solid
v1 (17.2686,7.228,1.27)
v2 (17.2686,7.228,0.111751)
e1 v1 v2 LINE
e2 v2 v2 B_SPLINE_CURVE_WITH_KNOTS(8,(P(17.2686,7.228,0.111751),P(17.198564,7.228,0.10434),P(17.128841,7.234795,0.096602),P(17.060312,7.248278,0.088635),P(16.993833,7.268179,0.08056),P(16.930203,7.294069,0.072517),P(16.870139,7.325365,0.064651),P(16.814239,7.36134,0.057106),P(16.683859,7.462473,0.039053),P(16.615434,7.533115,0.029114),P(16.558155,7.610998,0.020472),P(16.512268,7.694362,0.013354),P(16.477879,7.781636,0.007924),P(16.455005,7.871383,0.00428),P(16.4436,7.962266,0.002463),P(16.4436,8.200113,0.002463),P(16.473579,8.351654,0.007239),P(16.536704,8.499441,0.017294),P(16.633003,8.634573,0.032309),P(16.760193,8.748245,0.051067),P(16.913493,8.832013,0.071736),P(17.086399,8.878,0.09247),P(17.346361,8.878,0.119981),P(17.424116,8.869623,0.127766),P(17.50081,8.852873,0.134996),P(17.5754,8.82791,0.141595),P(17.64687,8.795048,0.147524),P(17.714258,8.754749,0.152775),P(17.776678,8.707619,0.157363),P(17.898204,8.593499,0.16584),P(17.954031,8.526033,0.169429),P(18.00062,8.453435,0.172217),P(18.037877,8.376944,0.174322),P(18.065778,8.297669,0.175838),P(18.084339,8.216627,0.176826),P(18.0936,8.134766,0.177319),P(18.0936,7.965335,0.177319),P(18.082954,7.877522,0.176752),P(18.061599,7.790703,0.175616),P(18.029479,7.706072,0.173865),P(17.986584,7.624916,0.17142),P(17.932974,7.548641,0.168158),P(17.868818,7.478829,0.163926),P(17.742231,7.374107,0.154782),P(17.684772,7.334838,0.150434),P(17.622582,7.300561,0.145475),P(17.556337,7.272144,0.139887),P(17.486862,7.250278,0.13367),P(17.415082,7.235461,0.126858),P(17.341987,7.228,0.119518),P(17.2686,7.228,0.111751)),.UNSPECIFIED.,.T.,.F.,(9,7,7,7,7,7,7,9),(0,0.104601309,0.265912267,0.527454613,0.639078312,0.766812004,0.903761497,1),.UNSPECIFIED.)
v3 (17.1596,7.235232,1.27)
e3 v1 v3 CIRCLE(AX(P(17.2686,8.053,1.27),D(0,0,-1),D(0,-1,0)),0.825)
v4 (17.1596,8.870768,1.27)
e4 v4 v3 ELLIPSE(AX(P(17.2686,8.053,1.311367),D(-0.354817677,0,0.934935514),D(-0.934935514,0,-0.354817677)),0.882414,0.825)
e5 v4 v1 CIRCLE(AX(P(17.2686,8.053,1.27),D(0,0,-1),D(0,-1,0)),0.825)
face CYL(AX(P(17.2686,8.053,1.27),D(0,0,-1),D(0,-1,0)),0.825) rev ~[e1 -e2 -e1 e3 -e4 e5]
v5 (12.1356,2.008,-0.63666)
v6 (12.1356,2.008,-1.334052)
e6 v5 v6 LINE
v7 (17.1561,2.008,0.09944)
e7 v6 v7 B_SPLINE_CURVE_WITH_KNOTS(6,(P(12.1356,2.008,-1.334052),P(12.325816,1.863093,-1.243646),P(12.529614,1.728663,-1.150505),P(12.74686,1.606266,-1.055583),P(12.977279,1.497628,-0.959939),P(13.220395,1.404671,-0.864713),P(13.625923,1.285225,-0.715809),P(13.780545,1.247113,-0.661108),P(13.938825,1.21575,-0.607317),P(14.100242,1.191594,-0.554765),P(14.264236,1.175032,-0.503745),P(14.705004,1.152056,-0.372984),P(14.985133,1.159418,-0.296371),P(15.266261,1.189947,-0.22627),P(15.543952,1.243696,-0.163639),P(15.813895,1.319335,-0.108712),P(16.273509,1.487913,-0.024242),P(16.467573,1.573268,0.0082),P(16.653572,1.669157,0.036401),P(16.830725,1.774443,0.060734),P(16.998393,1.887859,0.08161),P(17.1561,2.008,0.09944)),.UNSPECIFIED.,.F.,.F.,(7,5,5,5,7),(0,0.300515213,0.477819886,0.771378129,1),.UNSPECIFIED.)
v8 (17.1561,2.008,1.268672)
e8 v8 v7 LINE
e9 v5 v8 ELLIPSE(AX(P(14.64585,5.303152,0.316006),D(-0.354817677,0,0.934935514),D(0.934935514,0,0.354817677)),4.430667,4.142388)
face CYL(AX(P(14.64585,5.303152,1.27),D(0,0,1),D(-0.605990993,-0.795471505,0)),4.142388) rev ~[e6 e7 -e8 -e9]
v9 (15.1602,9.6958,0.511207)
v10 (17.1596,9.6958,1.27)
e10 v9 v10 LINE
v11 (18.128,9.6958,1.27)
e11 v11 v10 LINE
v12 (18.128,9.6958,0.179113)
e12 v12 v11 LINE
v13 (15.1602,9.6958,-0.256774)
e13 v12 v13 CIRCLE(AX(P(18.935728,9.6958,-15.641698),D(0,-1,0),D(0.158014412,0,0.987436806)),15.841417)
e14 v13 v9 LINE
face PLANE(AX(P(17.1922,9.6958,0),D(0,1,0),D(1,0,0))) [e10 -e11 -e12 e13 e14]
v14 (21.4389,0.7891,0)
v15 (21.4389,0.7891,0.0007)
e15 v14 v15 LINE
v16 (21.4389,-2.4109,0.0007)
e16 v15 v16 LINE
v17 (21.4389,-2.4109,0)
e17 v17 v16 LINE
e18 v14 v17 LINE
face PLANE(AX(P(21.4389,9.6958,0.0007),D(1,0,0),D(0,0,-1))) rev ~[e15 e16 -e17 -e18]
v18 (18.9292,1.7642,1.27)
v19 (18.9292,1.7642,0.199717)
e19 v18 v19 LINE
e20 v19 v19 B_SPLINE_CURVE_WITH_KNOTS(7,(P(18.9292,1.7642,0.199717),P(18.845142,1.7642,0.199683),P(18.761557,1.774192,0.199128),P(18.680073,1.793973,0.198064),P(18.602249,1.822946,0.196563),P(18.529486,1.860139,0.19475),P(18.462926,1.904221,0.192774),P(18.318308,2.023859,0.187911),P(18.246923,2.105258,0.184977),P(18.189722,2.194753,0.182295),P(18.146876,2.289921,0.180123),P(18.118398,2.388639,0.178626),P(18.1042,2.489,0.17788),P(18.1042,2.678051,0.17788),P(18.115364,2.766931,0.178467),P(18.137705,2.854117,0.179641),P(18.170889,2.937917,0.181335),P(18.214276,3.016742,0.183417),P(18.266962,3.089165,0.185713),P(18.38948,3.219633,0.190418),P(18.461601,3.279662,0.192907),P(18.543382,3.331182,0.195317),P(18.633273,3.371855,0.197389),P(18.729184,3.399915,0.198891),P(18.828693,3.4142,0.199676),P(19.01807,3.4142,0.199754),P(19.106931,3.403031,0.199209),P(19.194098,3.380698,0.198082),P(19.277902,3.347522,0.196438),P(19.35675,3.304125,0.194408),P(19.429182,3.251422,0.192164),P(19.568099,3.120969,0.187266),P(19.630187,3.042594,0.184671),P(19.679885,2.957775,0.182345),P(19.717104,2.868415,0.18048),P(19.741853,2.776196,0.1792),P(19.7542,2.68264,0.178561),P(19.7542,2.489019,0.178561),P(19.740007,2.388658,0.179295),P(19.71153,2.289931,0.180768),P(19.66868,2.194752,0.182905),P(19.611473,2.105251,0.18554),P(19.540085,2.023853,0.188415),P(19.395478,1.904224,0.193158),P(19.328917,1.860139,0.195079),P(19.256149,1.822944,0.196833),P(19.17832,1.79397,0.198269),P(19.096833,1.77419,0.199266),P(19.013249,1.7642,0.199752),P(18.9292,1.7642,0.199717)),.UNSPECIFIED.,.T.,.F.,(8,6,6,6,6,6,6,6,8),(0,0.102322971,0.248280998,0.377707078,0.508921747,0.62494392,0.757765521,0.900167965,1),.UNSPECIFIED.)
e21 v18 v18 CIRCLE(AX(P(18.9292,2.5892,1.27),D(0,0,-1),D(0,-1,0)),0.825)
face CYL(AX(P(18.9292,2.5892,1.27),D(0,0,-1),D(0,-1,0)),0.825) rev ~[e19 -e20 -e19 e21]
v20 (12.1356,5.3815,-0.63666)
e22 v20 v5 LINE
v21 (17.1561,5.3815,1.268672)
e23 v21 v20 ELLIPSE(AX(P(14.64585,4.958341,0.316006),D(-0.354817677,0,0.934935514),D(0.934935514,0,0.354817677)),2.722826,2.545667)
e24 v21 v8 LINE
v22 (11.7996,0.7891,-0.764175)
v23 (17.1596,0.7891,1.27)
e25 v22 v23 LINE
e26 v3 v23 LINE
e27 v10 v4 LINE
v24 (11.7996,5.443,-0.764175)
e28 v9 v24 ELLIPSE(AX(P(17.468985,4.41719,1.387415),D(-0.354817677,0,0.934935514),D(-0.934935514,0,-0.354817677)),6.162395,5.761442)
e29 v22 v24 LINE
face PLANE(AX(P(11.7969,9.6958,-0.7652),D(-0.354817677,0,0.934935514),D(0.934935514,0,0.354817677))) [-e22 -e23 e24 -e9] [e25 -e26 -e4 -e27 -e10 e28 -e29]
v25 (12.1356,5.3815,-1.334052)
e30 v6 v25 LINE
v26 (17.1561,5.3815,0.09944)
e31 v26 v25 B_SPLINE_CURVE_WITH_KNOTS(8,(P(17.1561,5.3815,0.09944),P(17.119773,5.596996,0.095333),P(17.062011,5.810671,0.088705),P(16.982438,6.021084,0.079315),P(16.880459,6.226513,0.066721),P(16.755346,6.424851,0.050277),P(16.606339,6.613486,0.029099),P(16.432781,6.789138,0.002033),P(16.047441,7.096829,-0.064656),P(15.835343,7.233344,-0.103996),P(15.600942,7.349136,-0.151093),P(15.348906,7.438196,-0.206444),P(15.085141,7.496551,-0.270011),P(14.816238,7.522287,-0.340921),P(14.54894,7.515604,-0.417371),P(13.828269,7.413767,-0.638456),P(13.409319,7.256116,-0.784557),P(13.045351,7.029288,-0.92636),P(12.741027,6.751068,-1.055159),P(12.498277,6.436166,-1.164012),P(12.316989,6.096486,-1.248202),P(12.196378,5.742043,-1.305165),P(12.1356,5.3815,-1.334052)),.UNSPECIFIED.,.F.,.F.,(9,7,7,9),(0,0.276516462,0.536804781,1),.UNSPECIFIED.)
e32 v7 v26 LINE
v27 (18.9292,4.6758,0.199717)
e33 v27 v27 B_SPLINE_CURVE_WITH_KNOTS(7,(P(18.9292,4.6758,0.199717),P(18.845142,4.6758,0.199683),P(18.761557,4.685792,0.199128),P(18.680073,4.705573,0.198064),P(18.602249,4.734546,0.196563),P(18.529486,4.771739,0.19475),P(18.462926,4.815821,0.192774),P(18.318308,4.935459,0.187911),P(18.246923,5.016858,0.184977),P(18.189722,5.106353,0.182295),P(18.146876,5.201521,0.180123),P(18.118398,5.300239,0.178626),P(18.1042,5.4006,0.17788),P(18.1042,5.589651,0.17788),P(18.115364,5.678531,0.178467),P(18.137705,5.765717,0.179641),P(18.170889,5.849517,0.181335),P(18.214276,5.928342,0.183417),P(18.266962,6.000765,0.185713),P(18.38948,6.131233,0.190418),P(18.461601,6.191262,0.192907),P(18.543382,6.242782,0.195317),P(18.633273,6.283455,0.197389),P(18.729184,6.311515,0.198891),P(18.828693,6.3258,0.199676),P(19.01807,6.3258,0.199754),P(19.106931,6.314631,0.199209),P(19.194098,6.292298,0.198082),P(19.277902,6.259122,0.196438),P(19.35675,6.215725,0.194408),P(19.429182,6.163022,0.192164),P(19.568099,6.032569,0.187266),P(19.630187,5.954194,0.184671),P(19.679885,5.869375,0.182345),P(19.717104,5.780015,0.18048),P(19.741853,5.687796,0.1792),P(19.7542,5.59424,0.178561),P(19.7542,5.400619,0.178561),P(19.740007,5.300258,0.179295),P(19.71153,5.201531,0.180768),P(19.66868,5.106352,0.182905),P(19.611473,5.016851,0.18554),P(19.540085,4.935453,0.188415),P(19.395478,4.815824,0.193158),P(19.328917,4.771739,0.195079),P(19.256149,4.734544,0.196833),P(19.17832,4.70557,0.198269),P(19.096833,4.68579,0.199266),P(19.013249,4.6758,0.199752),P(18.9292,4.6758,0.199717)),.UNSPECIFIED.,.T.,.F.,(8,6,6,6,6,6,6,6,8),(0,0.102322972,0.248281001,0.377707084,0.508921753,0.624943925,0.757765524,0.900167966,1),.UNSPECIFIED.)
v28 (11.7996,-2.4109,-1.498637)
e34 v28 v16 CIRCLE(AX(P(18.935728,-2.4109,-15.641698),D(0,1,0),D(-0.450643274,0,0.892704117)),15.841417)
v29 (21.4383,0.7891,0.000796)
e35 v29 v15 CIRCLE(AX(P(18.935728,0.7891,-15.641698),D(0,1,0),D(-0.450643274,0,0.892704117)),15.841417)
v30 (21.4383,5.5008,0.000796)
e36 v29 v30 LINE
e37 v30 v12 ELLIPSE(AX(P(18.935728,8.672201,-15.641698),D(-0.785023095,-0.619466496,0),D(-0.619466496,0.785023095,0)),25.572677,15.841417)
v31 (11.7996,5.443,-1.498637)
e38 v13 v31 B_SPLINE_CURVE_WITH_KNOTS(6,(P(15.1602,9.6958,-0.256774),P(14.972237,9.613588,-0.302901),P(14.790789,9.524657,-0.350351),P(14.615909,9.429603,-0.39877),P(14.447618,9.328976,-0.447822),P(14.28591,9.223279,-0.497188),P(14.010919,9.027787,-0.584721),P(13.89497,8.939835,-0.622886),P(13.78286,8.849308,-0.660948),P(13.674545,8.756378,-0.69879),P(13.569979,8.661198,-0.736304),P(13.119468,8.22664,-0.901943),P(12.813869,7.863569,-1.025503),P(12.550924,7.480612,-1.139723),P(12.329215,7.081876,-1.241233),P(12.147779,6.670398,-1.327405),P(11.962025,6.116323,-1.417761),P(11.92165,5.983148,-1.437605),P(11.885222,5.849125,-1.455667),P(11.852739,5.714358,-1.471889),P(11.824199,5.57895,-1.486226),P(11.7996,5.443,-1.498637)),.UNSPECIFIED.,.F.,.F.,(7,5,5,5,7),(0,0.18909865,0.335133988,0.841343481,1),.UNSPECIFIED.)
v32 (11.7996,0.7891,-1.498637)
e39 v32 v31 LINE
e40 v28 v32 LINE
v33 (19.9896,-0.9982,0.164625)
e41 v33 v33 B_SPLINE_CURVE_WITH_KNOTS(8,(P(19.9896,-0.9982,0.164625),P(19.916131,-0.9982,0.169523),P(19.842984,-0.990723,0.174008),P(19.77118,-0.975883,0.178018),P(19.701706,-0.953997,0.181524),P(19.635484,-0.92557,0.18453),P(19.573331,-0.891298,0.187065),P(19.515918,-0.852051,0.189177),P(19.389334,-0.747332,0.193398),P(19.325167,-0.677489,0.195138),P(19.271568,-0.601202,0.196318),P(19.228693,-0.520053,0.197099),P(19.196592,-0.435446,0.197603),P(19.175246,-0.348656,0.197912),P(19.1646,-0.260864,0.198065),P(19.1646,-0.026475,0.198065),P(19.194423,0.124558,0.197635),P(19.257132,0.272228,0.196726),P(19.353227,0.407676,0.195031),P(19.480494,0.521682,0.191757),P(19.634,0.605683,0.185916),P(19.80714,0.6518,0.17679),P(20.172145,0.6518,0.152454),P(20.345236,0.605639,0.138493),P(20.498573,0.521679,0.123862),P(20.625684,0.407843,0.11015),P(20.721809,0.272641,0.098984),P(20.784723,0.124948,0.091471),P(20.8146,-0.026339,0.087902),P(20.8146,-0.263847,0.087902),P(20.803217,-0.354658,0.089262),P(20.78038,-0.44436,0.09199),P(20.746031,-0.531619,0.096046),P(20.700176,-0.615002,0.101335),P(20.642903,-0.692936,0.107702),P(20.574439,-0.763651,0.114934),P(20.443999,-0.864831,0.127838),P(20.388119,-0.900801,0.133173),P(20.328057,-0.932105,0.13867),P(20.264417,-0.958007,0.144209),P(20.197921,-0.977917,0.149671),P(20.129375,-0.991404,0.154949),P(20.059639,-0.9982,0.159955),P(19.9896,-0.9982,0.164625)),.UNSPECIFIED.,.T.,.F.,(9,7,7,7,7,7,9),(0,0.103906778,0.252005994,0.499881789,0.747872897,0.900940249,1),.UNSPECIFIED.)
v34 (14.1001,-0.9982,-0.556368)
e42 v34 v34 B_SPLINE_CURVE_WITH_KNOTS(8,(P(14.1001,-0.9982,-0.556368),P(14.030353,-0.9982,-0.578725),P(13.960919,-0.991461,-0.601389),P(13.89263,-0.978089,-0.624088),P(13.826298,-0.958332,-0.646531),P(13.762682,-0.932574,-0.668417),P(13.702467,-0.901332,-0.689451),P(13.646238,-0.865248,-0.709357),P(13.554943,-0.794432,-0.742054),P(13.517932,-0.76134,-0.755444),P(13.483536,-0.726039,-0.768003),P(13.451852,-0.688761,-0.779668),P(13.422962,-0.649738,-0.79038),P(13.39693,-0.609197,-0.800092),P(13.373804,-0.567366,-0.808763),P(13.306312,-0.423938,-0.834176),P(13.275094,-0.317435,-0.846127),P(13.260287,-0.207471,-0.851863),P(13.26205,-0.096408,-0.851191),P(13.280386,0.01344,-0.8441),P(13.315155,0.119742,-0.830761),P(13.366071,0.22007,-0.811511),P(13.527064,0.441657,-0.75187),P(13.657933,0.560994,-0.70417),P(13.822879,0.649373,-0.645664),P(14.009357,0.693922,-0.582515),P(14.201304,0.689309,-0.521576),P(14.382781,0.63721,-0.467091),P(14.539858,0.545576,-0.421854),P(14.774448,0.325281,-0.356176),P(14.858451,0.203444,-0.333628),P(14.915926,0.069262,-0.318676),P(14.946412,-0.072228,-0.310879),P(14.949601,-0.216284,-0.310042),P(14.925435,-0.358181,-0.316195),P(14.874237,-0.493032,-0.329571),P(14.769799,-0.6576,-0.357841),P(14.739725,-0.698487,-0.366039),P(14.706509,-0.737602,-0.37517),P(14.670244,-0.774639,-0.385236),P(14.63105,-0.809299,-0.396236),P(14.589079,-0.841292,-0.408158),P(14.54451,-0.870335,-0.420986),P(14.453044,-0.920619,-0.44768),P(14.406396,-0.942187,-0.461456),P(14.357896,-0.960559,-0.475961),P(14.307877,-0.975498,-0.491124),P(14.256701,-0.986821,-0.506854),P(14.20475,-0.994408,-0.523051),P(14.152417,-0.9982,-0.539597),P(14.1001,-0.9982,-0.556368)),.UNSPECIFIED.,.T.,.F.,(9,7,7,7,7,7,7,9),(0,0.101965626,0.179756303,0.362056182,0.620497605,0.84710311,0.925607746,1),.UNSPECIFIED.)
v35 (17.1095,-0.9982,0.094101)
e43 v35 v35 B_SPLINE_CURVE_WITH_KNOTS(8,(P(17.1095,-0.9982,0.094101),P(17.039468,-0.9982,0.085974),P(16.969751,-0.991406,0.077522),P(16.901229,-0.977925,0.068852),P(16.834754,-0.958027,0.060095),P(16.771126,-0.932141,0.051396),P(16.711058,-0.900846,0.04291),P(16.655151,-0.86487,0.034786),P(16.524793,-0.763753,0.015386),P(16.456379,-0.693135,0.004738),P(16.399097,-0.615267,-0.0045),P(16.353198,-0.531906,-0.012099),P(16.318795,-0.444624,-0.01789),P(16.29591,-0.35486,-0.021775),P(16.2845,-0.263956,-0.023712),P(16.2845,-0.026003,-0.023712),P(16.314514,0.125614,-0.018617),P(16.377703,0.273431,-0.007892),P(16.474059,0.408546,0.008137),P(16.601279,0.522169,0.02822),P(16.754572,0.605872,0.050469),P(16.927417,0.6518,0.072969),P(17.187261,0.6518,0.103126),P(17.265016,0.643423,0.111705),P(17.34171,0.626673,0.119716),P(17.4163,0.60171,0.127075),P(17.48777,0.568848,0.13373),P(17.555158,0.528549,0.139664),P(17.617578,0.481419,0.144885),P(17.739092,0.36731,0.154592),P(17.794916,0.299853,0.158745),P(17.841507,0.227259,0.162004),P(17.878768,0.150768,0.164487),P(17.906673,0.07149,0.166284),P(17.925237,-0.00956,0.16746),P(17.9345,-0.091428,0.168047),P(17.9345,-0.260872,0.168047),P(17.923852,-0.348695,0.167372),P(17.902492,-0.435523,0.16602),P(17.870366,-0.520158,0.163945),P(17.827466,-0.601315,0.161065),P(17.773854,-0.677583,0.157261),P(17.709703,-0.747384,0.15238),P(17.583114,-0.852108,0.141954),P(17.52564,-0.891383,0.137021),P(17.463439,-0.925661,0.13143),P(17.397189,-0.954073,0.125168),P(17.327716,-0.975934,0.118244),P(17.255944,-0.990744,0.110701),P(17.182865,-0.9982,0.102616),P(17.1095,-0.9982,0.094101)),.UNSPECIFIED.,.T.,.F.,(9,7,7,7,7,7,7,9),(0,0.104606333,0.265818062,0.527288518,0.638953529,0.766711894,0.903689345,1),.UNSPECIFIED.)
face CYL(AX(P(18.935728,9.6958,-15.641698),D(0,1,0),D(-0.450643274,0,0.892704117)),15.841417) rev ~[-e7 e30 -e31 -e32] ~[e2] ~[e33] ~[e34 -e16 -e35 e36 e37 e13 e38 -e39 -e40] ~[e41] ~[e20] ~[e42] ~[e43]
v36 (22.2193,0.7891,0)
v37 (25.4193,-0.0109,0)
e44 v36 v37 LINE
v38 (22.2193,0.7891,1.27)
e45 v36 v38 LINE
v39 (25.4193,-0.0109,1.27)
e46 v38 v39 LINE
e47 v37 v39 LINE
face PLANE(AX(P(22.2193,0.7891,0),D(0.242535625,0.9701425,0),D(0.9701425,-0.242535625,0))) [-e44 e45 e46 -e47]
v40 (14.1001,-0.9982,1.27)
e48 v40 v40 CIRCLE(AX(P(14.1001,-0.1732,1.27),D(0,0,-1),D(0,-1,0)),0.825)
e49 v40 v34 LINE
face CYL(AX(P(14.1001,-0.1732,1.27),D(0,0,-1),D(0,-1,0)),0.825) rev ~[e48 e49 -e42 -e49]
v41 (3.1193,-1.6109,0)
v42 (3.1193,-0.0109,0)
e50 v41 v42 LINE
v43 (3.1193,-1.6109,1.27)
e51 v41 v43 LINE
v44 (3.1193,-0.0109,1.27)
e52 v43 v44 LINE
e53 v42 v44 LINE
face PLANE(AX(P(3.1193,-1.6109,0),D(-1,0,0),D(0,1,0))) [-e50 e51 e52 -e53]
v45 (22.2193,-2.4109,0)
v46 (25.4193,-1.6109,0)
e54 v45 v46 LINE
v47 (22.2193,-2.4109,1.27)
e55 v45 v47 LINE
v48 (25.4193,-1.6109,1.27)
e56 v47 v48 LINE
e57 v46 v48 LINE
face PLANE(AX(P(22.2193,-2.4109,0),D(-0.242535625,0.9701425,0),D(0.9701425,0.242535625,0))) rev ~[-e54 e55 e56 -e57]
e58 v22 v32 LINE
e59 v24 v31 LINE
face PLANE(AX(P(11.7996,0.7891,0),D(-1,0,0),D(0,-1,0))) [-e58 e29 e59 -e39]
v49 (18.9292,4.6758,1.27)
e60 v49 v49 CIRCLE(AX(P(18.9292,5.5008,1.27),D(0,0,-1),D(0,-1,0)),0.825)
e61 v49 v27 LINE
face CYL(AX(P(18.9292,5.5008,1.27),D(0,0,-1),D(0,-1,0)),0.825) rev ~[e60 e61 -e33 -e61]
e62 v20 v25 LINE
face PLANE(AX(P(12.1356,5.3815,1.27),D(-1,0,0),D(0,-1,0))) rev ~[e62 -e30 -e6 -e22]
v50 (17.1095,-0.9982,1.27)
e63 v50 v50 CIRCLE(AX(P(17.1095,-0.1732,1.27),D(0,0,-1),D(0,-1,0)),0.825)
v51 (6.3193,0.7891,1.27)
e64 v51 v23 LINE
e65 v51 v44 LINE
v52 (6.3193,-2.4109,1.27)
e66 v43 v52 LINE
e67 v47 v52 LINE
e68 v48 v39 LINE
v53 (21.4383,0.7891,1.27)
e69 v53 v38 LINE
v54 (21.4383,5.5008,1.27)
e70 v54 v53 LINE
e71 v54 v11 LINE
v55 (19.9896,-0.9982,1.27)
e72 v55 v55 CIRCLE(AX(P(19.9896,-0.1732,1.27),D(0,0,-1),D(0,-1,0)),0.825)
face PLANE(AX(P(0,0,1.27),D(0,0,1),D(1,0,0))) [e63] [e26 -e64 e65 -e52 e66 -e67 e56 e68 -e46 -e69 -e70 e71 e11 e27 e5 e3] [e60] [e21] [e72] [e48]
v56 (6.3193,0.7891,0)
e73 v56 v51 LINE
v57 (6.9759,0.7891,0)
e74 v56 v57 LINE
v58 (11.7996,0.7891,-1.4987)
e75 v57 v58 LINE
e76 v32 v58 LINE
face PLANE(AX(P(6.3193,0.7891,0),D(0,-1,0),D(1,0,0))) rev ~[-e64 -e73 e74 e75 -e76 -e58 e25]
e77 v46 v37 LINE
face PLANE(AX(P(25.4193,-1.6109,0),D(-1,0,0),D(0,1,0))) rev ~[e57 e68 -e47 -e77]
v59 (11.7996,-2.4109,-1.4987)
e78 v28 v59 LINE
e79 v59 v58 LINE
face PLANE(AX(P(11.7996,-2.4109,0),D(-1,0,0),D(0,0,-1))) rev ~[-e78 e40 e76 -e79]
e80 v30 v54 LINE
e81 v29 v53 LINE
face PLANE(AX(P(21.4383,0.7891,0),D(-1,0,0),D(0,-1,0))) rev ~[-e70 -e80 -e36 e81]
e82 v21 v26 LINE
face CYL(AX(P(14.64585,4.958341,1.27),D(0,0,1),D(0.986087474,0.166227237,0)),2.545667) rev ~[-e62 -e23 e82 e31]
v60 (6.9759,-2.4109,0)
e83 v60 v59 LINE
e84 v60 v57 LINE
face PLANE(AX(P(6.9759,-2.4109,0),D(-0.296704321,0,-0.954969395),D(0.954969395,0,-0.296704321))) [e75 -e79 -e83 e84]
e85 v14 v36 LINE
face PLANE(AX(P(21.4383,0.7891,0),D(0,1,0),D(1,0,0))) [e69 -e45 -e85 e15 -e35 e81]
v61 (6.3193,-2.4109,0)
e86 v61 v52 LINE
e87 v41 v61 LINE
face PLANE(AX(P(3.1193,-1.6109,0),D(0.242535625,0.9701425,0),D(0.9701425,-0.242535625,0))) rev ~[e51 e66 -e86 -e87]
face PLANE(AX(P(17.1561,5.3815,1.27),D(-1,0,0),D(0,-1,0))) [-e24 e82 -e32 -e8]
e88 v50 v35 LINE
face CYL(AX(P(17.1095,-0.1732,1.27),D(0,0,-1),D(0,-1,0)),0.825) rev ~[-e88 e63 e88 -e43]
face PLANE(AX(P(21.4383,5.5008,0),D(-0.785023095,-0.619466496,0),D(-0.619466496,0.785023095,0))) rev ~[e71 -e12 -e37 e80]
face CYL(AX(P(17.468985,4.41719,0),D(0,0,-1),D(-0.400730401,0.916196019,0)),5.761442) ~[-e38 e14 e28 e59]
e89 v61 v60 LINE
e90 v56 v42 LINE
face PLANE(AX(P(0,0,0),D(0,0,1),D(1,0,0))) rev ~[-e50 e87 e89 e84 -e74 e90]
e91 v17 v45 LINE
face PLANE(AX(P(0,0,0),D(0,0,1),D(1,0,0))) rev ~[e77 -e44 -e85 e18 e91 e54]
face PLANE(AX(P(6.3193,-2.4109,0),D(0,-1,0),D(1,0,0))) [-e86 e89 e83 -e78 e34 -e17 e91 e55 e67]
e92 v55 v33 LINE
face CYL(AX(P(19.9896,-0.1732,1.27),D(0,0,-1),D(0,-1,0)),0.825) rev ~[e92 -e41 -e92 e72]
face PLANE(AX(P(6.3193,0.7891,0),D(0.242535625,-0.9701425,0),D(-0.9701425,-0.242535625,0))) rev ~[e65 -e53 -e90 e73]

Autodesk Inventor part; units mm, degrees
ref_plane "YZ Plane" through (0, 0, 0) normal (1, 0, 0) x (0, 1, 0)
ref_plane "XZ Plane" through (0, 0, 0) normal (0, 1, 0) x (-1, 0, 0)
ref_plane "XY Plane" through (0, 0, 0) normal (0, 0, 1) x (1, 0, 0)
sketch "HeadplateSketch" plane through (0, 0, 0) normal (0, 0, 1) x (1, 0, 0)
  line L0 (22.2193, -2.4109) -> (25.4193, -1.6109)
  line L1 (25.4193, -1.6109) -> (25.4193, -0.0109)
  line L2 (6.3193, 0.7891) -> (3.1193, -0.0109)
  line L3 (3.1193, -1.6109) -> (3.1193, -0.0109)
  line L4 (6.3193, 0.7891) -> (22.2193, 0.7891)
  line L5 (22.2193, 0.7891) -> (25.4193, -0.0109)
  line L6 (17.1922, 9.6958) -> (17.1922, -2.4109)
  line L7 (17.1922, 9.6958) -> (18.128, 9.6958)
  line L8 (17.1922, 9.6958) -> (15.1602, 9.6958)
  line L9 (11.7996, 5.443) -> (11.7996, -2.4109)
  line L10 (21.4383, 5.5008) -> (21.4383, -2.4109)
  line L11 (21.4383, 5.5008) -> (18.128, 9.6958)
  arc A0 (15.1602, 9.6958) -> (11.7996, 5.443) centre (17.4689, 4.4173) ccw
  line L12 (3.1193, -1.6109) -> (6.3193, -2.4109)
  line L13 (6.3193, -2.4109) -> (22.2193, -2.4109)
  point P0 (11.7996, 0.7891)
  dimension "d95" = 3.2
  dimension "d102" = 1.6
  dimension "d104" = 3.2
  dimension "d106" = 0.8
  dimension "d109" = 1.6
  dimension "d110" = 3.2
  dimension "d112" = 22.3
  dimension "d113" = 15.9
extrude "拉伸1" add sketch "HeadplateSketch" along normal blind 1.27
extrude "拉伸8" add sketch "HeadplateSketch" against normal blind 1.5 contours L13 L6 L4 L10 | L4 L6 L7 L11 L10 | L13 L9 L4 L6 | L4 L9 A0 L8 L6
sketch "草图2" plane through (15.1602, 9.6958, 1.27) normal (0, 1, 0) x (1, 0, 0)
  line L0 (-3.3633, 2.0352) -> (1.9994, 0)
  arc A0 (-3.3633, 2.77) -> (6.2787, 1.2693) centre (3.7754, 16.9113) ccw
  line L1 (1.9994, 0) -> (6.2787, 0)
  line L2 (-3.3633, 2.77) -> (6.2787, 2.77)
  line L3 (2.9678, 2.77) -> (0, 2.77) projected
  line L4 (6.2787, 1.2693) -> (6.2787, 2.77)
  line L5 (-3.3633, 0) -> (1.9994, 0)
  line L6 (0, 0) -> (2.9678, 0) projected
  line L7 (2.9678, 0) -> (2.9678, 2.77) projected
  line L8 (-3.3633, 0) -> (-3.3633, 2.0352)
extrude "拉伸4" cut sketch "草图2" against normal up to next contours A0 L2 L7 | L7 L2 L4 A0
sketch "草图6" plane through (6.3193, -2.4109, 0) normal (0, -1, 0) x (1, 0, 0)
  line L0 (0, 0) -> (5.4803, 0)
  line L1 (0.6566, 0) -> (5.4803, -1.4987)
  line L2 (5.4803, 0) -> (5.4803, -1.4987)
  line L3 (0.6566, 0) -> (5.4803, 0)
  arc A0 (15.1197, 0.0007) -> (5.4803, -1.4987) centre (12.6164, -15.6413) ccw projected
  line L4 (5.4803, 0) -> (5.4803, -1.4987) projected
  dimension "d119" = 0
  dimension "d120" = 0
extrude "拉伸7" add sketch "草图6" against normal up to surface (3.2 mm away)
sketch "草图3" plane through (6.3193, 0.7891, 0) normal (0, 1, 0) x (1, 0, 0)
  line L0 (0, -1.27) -> (5.4803, -1.27) projected
  line L1 (5.4803, 0) -> (5.4803, -1.27) projected
  line L2 (5.4803, 0) -> (0, 0) projected
  line L3 (0, 0) -> (0, -1.27) projected
  line L4 (5.4803, -1.27) -> (16.1538, -1.27)
  line L5 (16.1538, -1.27) -> (17.1139, -1.27)
  line L6 (17.1139, -1.27) -> (17.1139, 0.0011)
extrude "拉伸9" cut sketch "草图2" against normal up to surface (8.9067 mm away) contours L0 L5 L8
sketch "草图4" plane through (0, 0, 1.27) normal (0, 0, 1) x (1, 0, 0)
  circle A0 centre (17.2686, 8.053) radius 0.825
  circle A1 centre (18.9292, 5.5008) radius 0.825
  circle A2 centre (18.9292, 2.5892) radius 0.825
  circle A3 centre (17.1095, -0.1732) radius 0.825
  line L0 (6.3193, 0.7891) -> (11.7996, 0.7891) projected
  line L1 (12.1356, 5.3815) -> (12.1356, 2.0023)
  line L2 (12.1356, 5.3815) -> (17.1561, 5.3815)
  line L3 (17.1561, 5.3815) -> (17.1561, 2.008)
  line L4 (17.1561, 2.008) -> (12.1356, 2.008)
  line L5 (11.7983, 4.0675) -> (12.1356, 4.0675)
  arc A4 (17.1561, 5.3815) -> (12.1356, 5.3815) centre (14.6459, 4.9584) ccw
  arc A5 (12.1356, 2.008) -> (17.1561, 2.008) centre (14.6459, 5.3033) ccw
  circle A6 centre (19.9896, -0.1732) radius 0.825
  circle A7 centre (14.1001, -0.1732) radius 0.825
  point P0 (21.4383, 5.5008)
  dimension "d121" = 0.9623
extrude "拉伸10" cut sketch "草图4" against normal through all contours L2 L3 L4 L1 | A4 L2 | L4 A5
hole "打孔7" at (18.9292, 5.5008, 1.27) at (18.9292, 2.5892, 1.27) at (17.1095, -0.1732, 1.27) at (17.2686, 8.053, 1.27) direction (0, 0, -1) diameter 1.65 end through all
hole "打孔8" at (14.1001, -0.1732, 1.27) at (19.9896, -0.1732, 1.27) direction (0, 0, -1) diameter 1.65 end through all
properties part number "JF-JM-HC0011" material "TITANIUM, 6AL-4V, ANNEALED"
